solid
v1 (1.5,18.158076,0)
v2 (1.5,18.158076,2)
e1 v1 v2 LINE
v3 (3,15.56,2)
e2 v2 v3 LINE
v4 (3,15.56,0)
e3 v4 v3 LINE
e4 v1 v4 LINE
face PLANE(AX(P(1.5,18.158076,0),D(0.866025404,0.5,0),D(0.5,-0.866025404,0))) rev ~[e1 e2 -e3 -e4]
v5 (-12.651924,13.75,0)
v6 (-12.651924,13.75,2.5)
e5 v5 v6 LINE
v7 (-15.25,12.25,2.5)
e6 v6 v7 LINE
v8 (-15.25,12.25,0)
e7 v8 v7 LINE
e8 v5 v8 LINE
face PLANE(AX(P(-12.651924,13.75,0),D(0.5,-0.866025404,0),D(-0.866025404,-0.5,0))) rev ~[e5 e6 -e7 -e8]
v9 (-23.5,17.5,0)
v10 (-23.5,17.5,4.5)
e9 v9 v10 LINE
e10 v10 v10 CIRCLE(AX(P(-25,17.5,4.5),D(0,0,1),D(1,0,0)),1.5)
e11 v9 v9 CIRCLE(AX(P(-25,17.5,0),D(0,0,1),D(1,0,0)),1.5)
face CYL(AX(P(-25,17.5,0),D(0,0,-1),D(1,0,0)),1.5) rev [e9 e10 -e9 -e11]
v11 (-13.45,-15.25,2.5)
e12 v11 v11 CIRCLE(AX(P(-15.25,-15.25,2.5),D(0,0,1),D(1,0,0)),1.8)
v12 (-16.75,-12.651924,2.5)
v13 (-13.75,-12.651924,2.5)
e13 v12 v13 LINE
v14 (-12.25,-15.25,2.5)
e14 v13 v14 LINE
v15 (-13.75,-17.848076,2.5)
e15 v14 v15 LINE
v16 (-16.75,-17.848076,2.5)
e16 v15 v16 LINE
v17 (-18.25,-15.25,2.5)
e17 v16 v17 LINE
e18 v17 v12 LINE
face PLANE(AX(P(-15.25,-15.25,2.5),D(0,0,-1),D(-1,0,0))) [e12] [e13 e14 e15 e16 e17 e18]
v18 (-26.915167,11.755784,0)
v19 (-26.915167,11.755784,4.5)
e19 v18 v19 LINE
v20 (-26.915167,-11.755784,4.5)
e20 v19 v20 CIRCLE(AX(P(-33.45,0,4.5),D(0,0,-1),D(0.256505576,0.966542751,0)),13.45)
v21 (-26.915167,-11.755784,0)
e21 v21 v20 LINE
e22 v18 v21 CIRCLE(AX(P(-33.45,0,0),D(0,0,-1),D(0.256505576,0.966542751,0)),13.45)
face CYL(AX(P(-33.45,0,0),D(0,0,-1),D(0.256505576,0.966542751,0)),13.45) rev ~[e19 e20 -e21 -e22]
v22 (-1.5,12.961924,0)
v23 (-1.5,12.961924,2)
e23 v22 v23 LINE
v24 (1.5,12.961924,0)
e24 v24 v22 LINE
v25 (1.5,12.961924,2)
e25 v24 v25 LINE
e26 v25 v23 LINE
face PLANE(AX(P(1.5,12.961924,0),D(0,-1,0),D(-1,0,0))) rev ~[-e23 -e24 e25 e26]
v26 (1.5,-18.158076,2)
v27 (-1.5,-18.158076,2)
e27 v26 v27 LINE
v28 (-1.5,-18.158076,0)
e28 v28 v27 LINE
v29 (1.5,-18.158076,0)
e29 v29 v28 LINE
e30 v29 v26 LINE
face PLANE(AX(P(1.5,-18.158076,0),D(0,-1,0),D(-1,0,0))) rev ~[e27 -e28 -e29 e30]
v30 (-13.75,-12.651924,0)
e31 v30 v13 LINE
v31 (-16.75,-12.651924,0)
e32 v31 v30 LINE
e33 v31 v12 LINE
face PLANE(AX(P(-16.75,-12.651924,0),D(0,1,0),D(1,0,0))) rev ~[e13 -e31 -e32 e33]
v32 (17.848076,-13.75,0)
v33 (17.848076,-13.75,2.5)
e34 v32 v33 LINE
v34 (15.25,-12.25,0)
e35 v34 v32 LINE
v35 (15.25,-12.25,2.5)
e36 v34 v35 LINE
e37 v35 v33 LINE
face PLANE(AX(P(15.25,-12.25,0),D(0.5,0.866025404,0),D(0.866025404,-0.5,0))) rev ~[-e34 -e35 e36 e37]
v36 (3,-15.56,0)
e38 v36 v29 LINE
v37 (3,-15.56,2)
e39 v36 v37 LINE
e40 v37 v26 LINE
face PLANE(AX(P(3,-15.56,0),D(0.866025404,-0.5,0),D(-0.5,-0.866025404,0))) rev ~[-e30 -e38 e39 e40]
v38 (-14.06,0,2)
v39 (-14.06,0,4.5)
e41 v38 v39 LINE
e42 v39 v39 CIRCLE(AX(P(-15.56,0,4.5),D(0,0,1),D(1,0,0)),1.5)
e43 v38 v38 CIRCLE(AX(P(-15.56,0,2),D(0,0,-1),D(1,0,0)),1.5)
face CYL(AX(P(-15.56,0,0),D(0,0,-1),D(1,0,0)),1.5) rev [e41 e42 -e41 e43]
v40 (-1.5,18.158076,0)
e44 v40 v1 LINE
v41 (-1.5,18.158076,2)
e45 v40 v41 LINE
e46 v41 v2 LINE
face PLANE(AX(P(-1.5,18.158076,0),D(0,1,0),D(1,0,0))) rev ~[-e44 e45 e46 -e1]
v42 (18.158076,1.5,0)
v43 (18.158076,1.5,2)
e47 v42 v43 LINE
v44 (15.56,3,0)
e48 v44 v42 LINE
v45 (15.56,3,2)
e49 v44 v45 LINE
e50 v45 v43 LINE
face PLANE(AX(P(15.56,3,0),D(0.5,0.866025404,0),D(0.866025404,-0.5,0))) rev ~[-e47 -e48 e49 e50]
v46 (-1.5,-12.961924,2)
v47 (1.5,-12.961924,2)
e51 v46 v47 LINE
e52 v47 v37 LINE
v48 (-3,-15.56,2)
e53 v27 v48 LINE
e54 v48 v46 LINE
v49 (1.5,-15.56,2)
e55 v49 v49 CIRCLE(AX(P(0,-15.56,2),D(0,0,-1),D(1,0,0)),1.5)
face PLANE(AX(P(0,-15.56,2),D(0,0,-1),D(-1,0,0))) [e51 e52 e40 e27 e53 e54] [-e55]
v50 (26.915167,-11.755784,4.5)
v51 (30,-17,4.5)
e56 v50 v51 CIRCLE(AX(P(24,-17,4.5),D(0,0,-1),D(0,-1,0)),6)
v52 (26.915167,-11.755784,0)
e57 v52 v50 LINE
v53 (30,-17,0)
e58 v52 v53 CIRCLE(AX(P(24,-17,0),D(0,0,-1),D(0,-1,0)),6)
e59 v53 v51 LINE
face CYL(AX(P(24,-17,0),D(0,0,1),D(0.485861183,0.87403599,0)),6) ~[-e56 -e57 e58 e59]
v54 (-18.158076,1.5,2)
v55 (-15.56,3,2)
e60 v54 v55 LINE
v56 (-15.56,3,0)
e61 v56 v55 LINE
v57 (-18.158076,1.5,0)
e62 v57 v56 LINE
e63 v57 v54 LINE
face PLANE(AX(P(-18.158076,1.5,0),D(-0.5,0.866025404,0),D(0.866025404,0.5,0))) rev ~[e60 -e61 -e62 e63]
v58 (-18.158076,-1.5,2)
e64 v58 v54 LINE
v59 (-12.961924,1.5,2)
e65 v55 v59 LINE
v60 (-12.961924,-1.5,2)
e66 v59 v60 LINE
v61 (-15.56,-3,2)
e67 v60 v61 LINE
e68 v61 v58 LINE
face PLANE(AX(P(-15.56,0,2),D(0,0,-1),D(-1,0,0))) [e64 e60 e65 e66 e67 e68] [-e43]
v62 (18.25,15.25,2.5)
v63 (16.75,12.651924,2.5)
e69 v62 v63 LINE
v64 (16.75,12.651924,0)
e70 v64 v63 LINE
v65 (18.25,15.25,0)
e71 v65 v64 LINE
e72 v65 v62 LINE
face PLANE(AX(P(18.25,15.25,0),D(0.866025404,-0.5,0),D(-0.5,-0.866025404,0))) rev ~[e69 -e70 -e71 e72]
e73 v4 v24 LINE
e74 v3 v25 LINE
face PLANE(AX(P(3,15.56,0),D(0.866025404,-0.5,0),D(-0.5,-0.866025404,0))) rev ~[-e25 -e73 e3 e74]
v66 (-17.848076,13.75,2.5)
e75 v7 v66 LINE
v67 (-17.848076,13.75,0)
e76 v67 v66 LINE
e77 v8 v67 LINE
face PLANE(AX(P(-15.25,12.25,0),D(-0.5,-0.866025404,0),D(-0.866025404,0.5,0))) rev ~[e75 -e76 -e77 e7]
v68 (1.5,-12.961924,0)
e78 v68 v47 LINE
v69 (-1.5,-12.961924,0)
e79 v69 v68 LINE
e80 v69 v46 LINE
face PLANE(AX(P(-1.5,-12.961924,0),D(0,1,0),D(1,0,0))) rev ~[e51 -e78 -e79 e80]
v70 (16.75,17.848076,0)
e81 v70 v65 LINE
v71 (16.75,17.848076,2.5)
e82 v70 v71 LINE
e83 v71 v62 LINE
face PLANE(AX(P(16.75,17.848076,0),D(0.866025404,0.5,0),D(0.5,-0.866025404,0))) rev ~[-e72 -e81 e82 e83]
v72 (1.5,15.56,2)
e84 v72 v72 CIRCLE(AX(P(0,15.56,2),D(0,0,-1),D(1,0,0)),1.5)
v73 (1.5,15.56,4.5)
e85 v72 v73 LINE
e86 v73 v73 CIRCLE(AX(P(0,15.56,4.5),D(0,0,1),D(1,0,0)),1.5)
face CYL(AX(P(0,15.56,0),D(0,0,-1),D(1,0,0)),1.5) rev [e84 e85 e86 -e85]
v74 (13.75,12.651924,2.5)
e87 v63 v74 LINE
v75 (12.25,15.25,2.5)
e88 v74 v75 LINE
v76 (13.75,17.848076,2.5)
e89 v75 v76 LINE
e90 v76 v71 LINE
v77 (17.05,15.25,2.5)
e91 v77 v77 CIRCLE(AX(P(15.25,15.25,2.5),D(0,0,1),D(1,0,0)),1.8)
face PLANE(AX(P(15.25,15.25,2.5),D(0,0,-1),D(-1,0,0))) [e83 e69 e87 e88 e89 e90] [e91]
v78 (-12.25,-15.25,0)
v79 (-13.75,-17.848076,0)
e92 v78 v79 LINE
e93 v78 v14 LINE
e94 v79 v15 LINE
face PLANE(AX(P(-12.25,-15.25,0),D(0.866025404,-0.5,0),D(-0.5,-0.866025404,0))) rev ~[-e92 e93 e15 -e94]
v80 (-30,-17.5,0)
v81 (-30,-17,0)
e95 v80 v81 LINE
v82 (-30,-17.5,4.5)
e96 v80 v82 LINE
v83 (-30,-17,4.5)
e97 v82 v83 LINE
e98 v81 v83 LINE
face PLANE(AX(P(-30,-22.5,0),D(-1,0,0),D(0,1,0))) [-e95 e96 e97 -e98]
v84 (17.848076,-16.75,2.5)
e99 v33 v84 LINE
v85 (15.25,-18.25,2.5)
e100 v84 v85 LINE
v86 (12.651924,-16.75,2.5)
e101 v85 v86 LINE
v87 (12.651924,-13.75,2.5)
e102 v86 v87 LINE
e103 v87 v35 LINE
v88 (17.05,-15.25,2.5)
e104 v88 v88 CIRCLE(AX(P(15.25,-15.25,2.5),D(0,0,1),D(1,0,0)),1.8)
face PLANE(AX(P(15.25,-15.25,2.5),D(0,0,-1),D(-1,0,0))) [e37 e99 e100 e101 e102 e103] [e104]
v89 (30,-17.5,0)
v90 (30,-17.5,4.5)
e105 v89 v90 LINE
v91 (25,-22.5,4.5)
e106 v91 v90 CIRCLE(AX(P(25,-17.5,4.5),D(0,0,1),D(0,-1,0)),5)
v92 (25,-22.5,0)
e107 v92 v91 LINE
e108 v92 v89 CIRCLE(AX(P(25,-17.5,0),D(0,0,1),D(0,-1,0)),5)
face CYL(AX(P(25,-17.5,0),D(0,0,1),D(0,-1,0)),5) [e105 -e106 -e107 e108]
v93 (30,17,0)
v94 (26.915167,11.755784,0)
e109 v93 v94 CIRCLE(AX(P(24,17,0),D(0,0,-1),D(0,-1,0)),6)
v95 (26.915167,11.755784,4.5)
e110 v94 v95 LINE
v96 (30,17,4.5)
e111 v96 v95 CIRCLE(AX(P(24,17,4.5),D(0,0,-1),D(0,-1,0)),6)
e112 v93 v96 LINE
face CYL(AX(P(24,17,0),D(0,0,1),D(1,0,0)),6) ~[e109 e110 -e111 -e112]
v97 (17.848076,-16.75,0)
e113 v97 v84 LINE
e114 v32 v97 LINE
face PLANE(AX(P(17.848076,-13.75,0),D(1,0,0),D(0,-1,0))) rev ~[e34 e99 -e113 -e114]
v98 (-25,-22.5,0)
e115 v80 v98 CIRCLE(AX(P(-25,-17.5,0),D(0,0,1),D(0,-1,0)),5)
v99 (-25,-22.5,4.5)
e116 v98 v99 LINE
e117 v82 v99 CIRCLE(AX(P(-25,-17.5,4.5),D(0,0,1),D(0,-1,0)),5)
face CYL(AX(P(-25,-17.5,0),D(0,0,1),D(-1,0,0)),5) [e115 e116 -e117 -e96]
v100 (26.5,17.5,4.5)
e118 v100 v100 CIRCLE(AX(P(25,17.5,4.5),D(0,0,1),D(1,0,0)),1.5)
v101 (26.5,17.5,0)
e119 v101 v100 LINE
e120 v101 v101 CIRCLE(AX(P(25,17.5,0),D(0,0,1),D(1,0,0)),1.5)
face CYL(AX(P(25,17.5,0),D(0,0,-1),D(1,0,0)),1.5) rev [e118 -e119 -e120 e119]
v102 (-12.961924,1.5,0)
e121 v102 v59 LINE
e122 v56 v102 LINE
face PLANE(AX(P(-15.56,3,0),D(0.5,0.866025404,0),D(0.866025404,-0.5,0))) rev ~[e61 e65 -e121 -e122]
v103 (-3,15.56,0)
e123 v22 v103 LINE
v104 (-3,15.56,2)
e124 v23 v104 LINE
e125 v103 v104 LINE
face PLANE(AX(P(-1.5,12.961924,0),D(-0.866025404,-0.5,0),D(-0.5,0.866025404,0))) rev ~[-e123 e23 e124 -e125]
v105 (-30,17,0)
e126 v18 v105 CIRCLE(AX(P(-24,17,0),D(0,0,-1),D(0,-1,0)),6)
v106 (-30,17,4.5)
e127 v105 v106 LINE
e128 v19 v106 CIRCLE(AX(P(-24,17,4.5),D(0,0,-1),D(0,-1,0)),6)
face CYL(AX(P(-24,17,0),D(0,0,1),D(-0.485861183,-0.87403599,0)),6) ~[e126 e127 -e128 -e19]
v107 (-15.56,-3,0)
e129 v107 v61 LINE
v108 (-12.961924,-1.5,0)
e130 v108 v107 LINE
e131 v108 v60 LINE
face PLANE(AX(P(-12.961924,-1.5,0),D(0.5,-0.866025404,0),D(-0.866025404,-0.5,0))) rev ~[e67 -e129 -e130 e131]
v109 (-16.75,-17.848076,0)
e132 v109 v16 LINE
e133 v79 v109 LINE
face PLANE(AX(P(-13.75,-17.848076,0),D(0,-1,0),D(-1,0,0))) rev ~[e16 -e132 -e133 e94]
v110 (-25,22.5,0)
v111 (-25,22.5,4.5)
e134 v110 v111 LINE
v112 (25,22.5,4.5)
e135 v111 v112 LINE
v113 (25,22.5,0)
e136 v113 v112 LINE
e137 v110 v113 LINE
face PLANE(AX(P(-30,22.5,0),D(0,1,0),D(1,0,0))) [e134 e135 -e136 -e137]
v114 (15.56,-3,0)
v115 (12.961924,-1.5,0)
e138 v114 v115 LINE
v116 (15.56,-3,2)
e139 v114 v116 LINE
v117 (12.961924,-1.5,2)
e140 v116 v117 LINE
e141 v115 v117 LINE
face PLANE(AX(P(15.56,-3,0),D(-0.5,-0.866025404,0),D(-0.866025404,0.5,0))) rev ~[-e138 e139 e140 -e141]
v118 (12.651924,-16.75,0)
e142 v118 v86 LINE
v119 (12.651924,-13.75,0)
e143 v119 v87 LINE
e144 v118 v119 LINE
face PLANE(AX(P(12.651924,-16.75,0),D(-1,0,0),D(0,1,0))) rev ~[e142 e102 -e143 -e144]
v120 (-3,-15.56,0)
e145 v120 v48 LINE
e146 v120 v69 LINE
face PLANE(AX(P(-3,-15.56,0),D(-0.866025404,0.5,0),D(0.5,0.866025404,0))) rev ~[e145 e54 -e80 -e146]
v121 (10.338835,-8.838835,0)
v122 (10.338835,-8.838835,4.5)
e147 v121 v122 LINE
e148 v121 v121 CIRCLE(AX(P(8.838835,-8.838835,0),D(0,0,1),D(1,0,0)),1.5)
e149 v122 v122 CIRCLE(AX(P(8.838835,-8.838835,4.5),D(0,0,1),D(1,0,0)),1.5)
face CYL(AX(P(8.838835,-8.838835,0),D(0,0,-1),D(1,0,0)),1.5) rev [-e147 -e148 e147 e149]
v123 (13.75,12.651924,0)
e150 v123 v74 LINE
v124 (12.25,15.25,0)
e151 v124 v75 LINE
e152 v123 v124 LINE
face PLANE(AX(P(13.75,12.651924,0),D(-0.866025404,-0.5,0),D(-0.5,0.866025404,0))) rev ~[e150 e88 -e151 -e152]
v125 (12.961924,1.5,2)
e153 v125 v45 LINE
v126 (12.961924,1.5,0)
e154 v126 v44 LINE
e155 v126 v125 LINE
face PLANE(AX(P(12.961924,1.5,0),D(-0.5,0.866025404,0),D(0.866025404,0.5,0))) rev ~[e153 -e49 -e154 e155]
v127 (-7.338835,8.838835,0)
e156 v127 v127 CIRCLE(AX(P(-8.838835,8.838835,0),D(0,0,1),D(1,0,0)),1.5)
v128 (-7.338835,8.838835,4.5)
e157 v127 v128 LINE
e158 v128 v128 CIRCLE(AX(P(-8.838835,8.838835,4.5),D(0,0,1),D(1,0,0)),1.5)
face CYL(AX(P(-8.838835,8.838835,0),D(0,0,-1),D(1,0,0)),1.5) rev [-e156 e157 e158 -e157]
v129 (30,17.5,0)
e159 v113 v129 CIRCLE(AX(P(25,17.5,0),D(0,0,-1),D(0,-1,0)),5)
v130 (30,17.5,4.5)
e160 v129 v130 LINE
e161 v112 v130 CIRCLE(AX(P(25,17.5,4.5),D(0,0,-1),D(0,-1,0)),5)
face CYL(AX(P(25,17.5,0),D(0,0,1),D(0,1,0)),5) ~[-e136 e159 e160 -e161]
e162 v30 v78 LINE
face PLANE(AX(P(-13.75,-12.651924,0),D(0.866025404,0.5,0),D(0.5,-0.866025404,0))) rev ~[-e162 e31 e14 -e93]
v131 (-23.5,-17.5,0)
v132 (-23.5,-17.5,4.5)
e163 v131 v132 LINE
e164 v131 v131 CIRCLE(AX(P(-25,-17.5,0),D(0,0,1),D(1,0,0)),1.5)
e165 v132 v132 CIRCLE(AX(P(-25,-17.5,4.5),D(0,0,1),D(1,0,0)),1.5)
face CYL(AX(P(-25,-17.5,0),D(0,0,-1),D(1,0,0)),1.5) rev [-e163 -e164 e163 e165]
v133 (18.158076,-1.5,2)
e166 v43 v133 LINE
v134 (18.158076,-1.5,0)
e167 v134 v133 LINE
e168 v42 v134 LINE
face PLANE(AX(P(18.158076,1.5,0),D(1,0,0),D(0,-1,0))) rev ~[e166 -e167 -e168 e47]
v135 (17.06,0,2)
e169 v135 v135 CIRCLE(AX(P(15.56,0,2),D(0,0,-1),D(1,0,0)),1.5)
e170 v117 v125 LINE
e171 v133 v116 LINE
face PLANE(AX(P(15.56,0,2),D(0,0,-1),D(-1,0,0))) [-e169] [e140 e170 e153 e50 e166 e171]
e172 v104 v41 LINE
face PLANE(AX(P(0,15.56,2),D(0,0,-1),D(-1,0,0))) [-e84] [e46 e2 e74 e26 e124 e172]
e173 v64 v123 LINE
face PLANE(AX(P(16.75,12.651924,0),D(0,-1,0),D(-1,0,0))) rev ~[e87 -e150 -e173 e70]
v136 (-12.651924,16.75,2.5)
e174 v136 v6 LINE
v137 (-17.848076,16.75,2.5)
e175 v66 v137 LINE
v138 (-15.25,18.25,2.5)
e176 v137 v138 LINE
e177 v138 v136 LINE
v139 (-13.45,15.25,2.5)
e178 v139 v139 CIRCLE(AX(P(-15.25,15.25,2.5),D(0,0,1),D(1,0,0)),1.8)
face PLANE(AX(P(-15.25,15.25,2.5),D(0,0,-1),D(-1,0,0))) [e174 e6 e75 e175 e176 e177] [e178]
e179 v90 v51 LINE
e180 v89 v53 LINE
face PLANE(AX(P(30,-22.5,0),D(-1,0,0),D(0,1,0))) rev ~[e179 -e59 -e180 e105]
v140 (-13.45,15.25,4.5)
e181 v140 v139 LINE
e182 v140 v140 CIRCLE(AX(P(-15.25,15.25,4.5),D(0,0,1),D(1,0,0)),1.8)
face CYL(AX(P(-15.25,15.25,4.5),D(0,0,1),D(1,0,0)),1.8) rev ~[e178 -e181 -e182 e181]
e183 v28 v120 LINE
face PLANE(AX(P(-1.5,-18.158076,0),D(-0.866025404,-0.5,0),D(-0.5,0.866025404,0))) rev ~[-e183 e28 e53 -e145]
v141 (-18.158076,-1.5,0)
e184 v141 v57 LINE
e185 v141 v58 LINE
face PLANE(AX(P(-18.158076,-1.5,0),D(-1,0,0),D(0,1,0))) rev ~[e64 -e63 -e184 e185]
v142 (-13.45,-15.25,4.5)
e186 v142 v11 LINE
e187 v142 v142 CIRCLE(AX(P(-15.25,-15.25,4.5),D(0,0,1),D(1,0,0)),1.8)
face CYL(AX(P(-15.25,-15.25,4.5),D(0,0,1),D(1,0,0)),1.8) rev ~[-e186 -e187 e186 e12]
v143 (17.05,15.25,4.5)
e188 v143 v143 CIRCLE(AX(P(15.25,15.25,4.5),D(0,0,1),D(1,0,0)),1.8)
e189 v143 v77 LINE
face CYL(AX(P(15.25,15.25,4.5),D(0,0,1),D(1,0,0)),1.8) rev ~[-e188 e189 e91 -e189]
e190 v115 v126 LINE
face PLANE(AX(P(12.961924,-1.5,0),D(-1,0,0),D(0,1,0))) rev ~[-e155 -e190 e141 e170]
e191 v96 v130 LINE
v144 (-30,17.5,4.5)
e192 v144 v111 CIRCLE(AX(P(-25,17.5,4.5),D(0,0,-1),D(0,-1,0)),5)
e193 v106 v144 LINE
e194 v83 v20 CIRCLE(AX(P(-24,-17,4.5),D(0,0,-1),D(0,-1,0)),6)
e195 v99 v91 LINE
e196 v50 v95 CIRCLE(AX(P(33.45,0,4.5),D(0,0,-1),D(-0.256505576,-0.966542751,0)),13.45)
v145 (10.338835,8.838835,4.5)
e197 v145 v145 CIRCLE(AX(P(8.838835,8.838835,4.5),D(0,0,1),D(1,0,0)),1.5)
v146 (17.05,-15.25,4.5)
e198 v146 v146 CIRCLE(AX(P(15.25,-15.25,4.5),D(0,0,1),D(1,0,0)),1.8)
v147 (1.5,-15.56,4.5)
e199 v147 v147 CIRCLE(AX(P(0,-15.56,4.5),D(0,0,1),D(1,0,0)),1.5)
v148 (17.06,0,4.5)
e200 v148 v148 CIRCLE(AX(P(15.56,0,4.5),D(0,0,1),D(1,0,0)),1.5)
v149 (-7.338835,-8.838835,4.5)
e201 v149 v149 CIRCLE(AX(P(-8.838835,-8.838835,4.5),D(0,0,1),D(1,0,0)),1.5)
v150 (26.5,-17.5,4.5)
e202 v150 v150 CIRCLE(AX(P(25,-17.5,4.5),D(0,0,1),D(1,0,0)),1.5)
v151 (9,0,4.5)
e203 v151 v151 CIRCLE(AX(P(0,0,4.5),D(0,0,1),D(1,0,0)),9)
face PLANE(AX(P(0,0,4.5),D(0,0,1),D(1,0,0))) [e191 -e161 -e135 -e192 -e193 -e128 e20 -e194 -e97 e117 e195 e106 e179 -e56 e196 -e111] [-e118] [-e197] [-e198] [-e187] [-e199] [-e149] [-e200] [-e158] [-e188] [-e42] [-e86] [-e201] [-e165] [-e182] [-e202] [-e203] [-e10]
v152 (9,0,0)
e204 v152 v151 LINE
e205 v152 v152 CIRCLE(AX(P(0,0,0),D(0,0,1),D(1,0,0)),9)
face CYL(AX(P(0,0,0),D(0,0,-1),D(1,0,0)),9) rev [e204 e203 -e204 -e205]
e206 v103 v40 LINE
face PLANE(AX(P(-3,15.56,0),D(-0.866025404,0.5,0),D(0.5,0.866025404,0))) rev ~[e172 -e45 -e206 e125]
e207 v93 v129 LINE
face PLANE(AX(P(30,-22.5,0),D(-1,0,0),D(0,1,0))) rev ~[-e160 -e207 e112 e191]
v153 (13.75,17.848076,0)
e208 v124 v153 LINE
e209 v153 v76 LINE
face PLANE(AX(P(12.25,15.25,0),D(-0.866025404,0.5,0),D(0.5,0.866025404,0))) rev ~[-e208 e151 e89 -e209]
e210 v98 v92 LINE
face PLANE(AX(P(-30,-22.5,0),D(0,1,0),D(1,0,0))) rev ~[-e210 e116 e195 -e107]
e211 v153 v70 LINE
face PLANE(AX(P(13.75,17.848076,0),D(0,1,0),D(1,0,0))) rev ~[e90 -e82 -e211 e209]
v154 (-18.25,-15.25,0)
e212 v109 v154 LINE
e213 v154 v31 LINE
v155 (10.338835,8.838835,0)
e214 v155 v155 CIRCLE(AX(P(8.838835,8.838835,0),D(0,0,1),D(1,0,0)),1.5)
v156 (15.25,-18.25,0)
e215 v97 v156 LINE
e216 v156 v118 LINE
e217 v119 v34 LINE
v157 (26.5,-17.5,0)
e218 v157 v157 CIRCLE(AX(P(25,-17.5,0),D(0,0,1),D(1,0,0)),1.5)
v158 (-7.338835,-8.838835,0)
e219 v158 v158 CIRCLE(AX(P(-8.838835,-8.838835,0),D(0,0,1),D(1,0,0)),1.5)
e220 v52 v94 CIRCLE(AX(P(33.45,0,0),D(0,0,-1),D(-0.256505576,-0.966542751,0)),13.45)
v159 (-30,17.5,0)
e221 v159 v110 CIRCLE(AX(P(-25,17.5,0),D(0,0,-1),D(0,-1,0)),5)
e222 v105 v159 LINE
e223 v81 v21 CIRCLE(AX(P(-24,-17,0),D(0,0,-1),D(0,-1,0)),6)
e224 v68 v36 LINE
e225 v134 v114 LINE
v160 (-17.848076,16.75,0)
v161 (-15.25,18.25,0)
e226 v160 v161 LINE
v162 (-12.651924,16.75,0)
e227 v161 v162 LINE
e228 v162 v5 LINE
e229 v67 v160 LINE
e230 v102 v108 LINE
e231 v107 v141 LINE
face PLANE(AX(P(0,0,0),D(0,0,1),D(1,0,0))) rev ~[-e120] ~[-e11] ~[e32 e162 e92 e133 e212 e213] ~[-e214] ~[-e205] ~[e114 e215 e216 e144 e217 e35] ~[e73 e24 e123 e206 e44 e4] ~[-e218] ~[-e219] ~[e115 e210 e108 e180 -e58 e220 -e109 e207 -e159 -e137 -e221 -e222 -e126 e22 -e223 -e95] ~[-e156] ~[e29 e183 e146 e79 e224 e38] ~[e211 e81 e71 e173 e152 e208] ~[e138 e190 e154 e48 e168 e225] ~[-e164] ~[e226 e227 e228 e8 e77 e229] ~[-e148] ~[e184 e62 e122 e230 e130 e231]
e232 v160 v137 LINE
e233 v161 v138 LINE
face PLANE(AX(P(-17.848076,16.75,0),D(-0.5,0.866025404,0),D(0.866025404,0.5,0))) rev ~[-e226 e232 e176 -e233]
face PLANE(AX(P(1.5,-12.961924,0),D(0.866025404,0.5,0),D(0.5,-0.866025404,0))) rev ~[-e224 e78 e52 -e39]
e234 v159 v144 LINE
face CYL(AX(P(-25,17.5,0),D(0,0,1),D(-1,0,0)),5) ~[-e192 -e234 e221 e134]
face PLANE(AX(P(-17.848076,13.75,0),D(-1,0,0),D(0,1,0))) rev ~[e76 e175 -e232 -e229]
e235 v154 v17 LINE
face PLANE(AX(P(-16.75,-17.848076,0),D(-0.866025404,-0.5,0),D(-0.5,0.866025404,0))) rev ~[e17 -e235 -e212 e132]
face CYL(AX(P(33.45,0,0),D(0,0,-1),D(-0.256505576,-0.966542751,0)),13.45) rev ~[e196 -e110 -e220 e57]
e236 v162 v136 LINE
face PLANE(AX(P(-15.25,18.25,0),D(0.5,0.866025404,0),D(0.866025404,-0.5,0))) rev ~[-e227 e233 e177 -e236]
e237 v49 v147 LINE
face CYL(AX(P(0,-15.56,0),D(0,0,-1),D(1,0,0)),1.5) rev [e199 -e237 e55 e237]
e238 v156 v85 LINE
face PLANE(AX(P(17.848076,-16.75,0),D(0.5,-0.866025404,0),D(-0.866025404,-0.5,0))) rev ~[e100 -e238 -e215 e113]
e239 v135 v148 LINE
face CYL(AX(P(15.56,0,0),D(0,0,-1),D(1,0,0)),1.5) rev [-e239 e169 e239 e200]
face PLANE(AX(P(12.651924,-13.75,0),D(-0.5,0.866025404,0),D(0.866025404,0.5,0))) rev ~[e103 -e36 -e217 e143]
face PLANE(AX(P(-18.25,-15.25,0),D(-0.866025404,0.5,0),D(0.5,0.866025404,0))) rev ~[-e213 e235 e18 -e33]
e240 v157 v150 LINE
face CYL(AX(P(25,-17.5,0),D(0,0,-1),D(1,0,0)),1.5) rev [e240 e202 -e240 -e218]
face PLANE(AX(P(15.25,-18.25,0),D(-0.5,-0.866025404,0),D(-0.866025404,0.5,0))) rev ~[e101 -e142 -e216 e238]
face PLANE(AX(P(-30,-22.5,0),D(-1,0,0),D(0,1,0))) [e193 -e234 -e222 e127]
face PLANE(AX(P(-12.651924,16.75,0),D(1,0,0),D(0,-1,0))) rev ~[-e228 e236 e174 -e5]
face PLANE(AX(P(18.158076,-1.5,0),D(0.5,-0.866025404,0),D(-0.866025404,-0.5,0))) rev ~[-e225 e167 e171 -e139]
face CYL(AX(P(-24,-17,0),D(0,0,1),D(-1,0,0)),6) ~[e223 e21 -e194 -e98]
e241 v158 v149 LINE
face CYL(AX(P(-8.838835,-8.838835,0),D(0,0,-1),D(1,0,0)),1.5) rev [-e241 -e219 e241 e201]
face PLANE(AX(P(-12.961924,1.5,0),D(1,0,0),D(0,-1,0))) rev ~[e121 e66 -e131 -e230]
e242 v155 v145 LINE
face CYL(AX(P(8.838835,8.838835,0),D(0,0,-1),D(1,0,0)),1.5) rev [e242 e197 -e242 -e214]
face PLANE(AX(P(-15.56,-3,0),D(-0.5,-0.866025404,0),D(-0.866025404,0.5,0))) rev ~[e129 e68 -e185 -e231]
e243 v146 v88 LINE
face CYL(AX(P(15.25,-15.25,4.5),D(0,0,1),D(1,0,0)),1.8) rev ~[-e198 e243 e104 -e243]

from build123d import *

# Parameters (mm, degrees)
SKETCH_1_W          = 60
SKETCH_1_H          = 45
SKETCH_1_R          = 1.5
SKETCH_1_R_2        = 9
EXTRUDE_1_DEPTH     = 4.5
CUT_EXTRUDE_1_DEPTH = 2
FILLET_1_R          = 5
SKETCH_4_R          = 1.8
CUT_EXTRUDE_2_DEPTH = 4.5
CUT_EXTRUDE_3_DEPTH = 2.5
CUT_EXTRUDE_4_DEPTH = 4.5
FILLET_2_R          = 6


with BuildPart() as part:
    # 草图1 → 凸台-拉伸1 (new body)
    with BuildSketch(Plane.XY):
        Rectangle(SKETCH_1_W, SKETCH_1_H)
        with Locations((8.838834765, 8.838834765)):
            Circle(SKETCH_1_R, mode=Mode.SUBTRACT)
        Circle(SKETCH_1_R_2, mode=Mode.SUBTRACT)
        with Locations((8.838834765, -8.838834765)):
            Circle(SKETCH_1_R, mode=Mode.SUBTRACT)
        with Locations((-8.838834765, -8.838834765)):
            Circle(SKETCH_1_R, mode=Mode.SUBTRACT)
        with Locations((-8.838834765, 8.838834765)):
            Circle(SKETCH_1_R, mode=Mode.SUBTRACT)
        with Locations((0, -15.56)):
            Circle(SKETCH_1_R, mode=Mode.SUBTRACT)
        with Locations((-15.56, 0)):
            Circle(SKETCH_1_R, mode=Mode.SUBTRACT)
        with Locations((0, 15.56)):
            Circle(SKETCH_1_R, mode=Mode.SUBTRACT)
        with Locations((15.56, 0)):
            Circle(SKETCH_1_R, mode=Mode.SUBTRACT)
        with Locations((-25, 17.5)):
            Circle(SKETCH_1_R, mode=Mode.SUBTRACT)
        with Locations((25, 17.5)):
            Circle(SKETCH_1_R, mode=Mode.SUBTRACT)
        with Locations((25, -17.5)):
            Circle(SKETCH_1_R, mode=Mode.SUBTRACT)
        with Locations((-25, -17.5)):
            Circle(SKETCH_1_R, mode=Mode.SUBTRACT)
    extrude(amount=EXTRUDE_1_DEPTH)

    # 草图2 → 切除-拉伸1 (cut)
    with BuildSketch(Plane(origin=(0, 0, 0), x_dir=(-1, 0, 0), z_dir=(0, 0, -1))):
        Polygon((-1.5, -12.961923789), (-3, -15.56), (-1.5, -18.158076211), (1.5, -18.158076211), (3, -15.56), (1.5, -12.961923789), align=None)
        Polygon((12.961923789, -1.5), (15.56, -3), (18.158076211, -1.5), (18.158076211, 1.5), (15.56, 3), (12.961923789, 1.5), align=None)
        Polygon((-12.961923789, 1.5), (-15.56, 3), (-18.158076211, 1.5), (-18.158076211, -1.5), (-15.56, -3), (-12.961923789, -1.5), align=None)
        Polygon((1.5, 12.961923789), (3, 15.56), (1.5, 18.158076211), (-1.5, 18.158076211), (-3, 15.56), (-1.5, 12.961923789), align=None)
    extrude(amount=-CUT_EXTRUDE_1_DEPTH, mode=Mode.SUBTRACT)

    # 圆角1
    fillet_1_edges = [part.edges().sort_by_distance(p)[0] for p in [
        (30, -22.5, 2.25),
        (-30, -22.5, 2.25),
        (-30, 22.5, 2.25),
        (30, 22.5, 2.25),
    ]]
    fillet(fillet_1_edges, radius=FILLET_1_R)

    # 草图4 → 切除-拉伸2 (cut)
    with BuildSketch(Plane.XY.offset(4.5)):
        with Locations((-15.25, 15.25)):
            Circle(SKETCH_4_R)
        with Locations((15.25, 15.25)):
            Circle(SKETCH_4_R)
        with Locations((15.25, -15.25)):
            Circle(SKETCH_4_R)
        with Locations((-15.25, -15.25)):
            Circle(SKETCH_4_R)
    extrude(amount=-CUT_EXTRUDE_2_DEPTH, mode=Mode.SUBTRACT)

    # 草图5 → 切除-拉伸3 (cut)
    with BuildSketch(Plane(origin=(0, 0, 0), x_dir=(-1, 0, 0), z_dir=(0, 0, -1))):
        Polygon((12.651923789, 13.75), (15.25, 12.25), (17.848076211, 13.75), (17.848076211, 16.75), (15.25, 18.25), (12.651923789, 16.75), align=None)
        Polygon((-13.75, 12.651923789), (-12.25, 15.25), (-13.75, 17.848076211), (-16.75, 17.848076211), (-18.25, 15.25), (-16.75, 12.651923789), align=None)
        Polygon((13.75, -12.651923789), (12.25, -15.25), (13.75, -17.848076211), (16.75, -17.848076211), (18.25, -15.25), (16.75, -12.651923789), align=None)
        Polygon((-12.651923789, -13.75), (-15.25, -12.25), (-17.848076211, -13.75), (-17.848076211, -16.75), (-15.25, -18.25), (-12.651923789, -16.75), align=None)
    extrude(amount=-CUT_EXTRUDE_3_DEPTH, mode=Mode.SUBTRACT)

    # 草图6 → 切除-拉伸4 (cut)
    with BuildSketch(Plane(origin=(0, 0, 0), x_dir=(-1, 0, 0), z_dir=(0, 0, -1))):
        with BuildLine():
            Line((-30, 13), (-30, -13))
            ThreePointArc((-30, -13), (-20, 0), (-30, 13))
        make_face()
        with BuildLine():
            Line((30, -13), (30, 13))
            ThreePointArc((30, 13), (20, 0), (30, -13))
        make_face()
    extrude(amount=-CUT_EXTRUDE_4_DEPTH, mode=Mode.SUBTRACT)

    # 圆角2
    fillet_2_edges = [part.edges().sort_by_distance(p)[0] for p in [
        (30, -13, 2.25),
        (30, 13, 2.25),
        (-30, 13, 2.25),
        (-30, -13, 2.25),
    ]]
    fillet(fillet_2_edges, radius=FILLET_2_R)


solid = part.part
